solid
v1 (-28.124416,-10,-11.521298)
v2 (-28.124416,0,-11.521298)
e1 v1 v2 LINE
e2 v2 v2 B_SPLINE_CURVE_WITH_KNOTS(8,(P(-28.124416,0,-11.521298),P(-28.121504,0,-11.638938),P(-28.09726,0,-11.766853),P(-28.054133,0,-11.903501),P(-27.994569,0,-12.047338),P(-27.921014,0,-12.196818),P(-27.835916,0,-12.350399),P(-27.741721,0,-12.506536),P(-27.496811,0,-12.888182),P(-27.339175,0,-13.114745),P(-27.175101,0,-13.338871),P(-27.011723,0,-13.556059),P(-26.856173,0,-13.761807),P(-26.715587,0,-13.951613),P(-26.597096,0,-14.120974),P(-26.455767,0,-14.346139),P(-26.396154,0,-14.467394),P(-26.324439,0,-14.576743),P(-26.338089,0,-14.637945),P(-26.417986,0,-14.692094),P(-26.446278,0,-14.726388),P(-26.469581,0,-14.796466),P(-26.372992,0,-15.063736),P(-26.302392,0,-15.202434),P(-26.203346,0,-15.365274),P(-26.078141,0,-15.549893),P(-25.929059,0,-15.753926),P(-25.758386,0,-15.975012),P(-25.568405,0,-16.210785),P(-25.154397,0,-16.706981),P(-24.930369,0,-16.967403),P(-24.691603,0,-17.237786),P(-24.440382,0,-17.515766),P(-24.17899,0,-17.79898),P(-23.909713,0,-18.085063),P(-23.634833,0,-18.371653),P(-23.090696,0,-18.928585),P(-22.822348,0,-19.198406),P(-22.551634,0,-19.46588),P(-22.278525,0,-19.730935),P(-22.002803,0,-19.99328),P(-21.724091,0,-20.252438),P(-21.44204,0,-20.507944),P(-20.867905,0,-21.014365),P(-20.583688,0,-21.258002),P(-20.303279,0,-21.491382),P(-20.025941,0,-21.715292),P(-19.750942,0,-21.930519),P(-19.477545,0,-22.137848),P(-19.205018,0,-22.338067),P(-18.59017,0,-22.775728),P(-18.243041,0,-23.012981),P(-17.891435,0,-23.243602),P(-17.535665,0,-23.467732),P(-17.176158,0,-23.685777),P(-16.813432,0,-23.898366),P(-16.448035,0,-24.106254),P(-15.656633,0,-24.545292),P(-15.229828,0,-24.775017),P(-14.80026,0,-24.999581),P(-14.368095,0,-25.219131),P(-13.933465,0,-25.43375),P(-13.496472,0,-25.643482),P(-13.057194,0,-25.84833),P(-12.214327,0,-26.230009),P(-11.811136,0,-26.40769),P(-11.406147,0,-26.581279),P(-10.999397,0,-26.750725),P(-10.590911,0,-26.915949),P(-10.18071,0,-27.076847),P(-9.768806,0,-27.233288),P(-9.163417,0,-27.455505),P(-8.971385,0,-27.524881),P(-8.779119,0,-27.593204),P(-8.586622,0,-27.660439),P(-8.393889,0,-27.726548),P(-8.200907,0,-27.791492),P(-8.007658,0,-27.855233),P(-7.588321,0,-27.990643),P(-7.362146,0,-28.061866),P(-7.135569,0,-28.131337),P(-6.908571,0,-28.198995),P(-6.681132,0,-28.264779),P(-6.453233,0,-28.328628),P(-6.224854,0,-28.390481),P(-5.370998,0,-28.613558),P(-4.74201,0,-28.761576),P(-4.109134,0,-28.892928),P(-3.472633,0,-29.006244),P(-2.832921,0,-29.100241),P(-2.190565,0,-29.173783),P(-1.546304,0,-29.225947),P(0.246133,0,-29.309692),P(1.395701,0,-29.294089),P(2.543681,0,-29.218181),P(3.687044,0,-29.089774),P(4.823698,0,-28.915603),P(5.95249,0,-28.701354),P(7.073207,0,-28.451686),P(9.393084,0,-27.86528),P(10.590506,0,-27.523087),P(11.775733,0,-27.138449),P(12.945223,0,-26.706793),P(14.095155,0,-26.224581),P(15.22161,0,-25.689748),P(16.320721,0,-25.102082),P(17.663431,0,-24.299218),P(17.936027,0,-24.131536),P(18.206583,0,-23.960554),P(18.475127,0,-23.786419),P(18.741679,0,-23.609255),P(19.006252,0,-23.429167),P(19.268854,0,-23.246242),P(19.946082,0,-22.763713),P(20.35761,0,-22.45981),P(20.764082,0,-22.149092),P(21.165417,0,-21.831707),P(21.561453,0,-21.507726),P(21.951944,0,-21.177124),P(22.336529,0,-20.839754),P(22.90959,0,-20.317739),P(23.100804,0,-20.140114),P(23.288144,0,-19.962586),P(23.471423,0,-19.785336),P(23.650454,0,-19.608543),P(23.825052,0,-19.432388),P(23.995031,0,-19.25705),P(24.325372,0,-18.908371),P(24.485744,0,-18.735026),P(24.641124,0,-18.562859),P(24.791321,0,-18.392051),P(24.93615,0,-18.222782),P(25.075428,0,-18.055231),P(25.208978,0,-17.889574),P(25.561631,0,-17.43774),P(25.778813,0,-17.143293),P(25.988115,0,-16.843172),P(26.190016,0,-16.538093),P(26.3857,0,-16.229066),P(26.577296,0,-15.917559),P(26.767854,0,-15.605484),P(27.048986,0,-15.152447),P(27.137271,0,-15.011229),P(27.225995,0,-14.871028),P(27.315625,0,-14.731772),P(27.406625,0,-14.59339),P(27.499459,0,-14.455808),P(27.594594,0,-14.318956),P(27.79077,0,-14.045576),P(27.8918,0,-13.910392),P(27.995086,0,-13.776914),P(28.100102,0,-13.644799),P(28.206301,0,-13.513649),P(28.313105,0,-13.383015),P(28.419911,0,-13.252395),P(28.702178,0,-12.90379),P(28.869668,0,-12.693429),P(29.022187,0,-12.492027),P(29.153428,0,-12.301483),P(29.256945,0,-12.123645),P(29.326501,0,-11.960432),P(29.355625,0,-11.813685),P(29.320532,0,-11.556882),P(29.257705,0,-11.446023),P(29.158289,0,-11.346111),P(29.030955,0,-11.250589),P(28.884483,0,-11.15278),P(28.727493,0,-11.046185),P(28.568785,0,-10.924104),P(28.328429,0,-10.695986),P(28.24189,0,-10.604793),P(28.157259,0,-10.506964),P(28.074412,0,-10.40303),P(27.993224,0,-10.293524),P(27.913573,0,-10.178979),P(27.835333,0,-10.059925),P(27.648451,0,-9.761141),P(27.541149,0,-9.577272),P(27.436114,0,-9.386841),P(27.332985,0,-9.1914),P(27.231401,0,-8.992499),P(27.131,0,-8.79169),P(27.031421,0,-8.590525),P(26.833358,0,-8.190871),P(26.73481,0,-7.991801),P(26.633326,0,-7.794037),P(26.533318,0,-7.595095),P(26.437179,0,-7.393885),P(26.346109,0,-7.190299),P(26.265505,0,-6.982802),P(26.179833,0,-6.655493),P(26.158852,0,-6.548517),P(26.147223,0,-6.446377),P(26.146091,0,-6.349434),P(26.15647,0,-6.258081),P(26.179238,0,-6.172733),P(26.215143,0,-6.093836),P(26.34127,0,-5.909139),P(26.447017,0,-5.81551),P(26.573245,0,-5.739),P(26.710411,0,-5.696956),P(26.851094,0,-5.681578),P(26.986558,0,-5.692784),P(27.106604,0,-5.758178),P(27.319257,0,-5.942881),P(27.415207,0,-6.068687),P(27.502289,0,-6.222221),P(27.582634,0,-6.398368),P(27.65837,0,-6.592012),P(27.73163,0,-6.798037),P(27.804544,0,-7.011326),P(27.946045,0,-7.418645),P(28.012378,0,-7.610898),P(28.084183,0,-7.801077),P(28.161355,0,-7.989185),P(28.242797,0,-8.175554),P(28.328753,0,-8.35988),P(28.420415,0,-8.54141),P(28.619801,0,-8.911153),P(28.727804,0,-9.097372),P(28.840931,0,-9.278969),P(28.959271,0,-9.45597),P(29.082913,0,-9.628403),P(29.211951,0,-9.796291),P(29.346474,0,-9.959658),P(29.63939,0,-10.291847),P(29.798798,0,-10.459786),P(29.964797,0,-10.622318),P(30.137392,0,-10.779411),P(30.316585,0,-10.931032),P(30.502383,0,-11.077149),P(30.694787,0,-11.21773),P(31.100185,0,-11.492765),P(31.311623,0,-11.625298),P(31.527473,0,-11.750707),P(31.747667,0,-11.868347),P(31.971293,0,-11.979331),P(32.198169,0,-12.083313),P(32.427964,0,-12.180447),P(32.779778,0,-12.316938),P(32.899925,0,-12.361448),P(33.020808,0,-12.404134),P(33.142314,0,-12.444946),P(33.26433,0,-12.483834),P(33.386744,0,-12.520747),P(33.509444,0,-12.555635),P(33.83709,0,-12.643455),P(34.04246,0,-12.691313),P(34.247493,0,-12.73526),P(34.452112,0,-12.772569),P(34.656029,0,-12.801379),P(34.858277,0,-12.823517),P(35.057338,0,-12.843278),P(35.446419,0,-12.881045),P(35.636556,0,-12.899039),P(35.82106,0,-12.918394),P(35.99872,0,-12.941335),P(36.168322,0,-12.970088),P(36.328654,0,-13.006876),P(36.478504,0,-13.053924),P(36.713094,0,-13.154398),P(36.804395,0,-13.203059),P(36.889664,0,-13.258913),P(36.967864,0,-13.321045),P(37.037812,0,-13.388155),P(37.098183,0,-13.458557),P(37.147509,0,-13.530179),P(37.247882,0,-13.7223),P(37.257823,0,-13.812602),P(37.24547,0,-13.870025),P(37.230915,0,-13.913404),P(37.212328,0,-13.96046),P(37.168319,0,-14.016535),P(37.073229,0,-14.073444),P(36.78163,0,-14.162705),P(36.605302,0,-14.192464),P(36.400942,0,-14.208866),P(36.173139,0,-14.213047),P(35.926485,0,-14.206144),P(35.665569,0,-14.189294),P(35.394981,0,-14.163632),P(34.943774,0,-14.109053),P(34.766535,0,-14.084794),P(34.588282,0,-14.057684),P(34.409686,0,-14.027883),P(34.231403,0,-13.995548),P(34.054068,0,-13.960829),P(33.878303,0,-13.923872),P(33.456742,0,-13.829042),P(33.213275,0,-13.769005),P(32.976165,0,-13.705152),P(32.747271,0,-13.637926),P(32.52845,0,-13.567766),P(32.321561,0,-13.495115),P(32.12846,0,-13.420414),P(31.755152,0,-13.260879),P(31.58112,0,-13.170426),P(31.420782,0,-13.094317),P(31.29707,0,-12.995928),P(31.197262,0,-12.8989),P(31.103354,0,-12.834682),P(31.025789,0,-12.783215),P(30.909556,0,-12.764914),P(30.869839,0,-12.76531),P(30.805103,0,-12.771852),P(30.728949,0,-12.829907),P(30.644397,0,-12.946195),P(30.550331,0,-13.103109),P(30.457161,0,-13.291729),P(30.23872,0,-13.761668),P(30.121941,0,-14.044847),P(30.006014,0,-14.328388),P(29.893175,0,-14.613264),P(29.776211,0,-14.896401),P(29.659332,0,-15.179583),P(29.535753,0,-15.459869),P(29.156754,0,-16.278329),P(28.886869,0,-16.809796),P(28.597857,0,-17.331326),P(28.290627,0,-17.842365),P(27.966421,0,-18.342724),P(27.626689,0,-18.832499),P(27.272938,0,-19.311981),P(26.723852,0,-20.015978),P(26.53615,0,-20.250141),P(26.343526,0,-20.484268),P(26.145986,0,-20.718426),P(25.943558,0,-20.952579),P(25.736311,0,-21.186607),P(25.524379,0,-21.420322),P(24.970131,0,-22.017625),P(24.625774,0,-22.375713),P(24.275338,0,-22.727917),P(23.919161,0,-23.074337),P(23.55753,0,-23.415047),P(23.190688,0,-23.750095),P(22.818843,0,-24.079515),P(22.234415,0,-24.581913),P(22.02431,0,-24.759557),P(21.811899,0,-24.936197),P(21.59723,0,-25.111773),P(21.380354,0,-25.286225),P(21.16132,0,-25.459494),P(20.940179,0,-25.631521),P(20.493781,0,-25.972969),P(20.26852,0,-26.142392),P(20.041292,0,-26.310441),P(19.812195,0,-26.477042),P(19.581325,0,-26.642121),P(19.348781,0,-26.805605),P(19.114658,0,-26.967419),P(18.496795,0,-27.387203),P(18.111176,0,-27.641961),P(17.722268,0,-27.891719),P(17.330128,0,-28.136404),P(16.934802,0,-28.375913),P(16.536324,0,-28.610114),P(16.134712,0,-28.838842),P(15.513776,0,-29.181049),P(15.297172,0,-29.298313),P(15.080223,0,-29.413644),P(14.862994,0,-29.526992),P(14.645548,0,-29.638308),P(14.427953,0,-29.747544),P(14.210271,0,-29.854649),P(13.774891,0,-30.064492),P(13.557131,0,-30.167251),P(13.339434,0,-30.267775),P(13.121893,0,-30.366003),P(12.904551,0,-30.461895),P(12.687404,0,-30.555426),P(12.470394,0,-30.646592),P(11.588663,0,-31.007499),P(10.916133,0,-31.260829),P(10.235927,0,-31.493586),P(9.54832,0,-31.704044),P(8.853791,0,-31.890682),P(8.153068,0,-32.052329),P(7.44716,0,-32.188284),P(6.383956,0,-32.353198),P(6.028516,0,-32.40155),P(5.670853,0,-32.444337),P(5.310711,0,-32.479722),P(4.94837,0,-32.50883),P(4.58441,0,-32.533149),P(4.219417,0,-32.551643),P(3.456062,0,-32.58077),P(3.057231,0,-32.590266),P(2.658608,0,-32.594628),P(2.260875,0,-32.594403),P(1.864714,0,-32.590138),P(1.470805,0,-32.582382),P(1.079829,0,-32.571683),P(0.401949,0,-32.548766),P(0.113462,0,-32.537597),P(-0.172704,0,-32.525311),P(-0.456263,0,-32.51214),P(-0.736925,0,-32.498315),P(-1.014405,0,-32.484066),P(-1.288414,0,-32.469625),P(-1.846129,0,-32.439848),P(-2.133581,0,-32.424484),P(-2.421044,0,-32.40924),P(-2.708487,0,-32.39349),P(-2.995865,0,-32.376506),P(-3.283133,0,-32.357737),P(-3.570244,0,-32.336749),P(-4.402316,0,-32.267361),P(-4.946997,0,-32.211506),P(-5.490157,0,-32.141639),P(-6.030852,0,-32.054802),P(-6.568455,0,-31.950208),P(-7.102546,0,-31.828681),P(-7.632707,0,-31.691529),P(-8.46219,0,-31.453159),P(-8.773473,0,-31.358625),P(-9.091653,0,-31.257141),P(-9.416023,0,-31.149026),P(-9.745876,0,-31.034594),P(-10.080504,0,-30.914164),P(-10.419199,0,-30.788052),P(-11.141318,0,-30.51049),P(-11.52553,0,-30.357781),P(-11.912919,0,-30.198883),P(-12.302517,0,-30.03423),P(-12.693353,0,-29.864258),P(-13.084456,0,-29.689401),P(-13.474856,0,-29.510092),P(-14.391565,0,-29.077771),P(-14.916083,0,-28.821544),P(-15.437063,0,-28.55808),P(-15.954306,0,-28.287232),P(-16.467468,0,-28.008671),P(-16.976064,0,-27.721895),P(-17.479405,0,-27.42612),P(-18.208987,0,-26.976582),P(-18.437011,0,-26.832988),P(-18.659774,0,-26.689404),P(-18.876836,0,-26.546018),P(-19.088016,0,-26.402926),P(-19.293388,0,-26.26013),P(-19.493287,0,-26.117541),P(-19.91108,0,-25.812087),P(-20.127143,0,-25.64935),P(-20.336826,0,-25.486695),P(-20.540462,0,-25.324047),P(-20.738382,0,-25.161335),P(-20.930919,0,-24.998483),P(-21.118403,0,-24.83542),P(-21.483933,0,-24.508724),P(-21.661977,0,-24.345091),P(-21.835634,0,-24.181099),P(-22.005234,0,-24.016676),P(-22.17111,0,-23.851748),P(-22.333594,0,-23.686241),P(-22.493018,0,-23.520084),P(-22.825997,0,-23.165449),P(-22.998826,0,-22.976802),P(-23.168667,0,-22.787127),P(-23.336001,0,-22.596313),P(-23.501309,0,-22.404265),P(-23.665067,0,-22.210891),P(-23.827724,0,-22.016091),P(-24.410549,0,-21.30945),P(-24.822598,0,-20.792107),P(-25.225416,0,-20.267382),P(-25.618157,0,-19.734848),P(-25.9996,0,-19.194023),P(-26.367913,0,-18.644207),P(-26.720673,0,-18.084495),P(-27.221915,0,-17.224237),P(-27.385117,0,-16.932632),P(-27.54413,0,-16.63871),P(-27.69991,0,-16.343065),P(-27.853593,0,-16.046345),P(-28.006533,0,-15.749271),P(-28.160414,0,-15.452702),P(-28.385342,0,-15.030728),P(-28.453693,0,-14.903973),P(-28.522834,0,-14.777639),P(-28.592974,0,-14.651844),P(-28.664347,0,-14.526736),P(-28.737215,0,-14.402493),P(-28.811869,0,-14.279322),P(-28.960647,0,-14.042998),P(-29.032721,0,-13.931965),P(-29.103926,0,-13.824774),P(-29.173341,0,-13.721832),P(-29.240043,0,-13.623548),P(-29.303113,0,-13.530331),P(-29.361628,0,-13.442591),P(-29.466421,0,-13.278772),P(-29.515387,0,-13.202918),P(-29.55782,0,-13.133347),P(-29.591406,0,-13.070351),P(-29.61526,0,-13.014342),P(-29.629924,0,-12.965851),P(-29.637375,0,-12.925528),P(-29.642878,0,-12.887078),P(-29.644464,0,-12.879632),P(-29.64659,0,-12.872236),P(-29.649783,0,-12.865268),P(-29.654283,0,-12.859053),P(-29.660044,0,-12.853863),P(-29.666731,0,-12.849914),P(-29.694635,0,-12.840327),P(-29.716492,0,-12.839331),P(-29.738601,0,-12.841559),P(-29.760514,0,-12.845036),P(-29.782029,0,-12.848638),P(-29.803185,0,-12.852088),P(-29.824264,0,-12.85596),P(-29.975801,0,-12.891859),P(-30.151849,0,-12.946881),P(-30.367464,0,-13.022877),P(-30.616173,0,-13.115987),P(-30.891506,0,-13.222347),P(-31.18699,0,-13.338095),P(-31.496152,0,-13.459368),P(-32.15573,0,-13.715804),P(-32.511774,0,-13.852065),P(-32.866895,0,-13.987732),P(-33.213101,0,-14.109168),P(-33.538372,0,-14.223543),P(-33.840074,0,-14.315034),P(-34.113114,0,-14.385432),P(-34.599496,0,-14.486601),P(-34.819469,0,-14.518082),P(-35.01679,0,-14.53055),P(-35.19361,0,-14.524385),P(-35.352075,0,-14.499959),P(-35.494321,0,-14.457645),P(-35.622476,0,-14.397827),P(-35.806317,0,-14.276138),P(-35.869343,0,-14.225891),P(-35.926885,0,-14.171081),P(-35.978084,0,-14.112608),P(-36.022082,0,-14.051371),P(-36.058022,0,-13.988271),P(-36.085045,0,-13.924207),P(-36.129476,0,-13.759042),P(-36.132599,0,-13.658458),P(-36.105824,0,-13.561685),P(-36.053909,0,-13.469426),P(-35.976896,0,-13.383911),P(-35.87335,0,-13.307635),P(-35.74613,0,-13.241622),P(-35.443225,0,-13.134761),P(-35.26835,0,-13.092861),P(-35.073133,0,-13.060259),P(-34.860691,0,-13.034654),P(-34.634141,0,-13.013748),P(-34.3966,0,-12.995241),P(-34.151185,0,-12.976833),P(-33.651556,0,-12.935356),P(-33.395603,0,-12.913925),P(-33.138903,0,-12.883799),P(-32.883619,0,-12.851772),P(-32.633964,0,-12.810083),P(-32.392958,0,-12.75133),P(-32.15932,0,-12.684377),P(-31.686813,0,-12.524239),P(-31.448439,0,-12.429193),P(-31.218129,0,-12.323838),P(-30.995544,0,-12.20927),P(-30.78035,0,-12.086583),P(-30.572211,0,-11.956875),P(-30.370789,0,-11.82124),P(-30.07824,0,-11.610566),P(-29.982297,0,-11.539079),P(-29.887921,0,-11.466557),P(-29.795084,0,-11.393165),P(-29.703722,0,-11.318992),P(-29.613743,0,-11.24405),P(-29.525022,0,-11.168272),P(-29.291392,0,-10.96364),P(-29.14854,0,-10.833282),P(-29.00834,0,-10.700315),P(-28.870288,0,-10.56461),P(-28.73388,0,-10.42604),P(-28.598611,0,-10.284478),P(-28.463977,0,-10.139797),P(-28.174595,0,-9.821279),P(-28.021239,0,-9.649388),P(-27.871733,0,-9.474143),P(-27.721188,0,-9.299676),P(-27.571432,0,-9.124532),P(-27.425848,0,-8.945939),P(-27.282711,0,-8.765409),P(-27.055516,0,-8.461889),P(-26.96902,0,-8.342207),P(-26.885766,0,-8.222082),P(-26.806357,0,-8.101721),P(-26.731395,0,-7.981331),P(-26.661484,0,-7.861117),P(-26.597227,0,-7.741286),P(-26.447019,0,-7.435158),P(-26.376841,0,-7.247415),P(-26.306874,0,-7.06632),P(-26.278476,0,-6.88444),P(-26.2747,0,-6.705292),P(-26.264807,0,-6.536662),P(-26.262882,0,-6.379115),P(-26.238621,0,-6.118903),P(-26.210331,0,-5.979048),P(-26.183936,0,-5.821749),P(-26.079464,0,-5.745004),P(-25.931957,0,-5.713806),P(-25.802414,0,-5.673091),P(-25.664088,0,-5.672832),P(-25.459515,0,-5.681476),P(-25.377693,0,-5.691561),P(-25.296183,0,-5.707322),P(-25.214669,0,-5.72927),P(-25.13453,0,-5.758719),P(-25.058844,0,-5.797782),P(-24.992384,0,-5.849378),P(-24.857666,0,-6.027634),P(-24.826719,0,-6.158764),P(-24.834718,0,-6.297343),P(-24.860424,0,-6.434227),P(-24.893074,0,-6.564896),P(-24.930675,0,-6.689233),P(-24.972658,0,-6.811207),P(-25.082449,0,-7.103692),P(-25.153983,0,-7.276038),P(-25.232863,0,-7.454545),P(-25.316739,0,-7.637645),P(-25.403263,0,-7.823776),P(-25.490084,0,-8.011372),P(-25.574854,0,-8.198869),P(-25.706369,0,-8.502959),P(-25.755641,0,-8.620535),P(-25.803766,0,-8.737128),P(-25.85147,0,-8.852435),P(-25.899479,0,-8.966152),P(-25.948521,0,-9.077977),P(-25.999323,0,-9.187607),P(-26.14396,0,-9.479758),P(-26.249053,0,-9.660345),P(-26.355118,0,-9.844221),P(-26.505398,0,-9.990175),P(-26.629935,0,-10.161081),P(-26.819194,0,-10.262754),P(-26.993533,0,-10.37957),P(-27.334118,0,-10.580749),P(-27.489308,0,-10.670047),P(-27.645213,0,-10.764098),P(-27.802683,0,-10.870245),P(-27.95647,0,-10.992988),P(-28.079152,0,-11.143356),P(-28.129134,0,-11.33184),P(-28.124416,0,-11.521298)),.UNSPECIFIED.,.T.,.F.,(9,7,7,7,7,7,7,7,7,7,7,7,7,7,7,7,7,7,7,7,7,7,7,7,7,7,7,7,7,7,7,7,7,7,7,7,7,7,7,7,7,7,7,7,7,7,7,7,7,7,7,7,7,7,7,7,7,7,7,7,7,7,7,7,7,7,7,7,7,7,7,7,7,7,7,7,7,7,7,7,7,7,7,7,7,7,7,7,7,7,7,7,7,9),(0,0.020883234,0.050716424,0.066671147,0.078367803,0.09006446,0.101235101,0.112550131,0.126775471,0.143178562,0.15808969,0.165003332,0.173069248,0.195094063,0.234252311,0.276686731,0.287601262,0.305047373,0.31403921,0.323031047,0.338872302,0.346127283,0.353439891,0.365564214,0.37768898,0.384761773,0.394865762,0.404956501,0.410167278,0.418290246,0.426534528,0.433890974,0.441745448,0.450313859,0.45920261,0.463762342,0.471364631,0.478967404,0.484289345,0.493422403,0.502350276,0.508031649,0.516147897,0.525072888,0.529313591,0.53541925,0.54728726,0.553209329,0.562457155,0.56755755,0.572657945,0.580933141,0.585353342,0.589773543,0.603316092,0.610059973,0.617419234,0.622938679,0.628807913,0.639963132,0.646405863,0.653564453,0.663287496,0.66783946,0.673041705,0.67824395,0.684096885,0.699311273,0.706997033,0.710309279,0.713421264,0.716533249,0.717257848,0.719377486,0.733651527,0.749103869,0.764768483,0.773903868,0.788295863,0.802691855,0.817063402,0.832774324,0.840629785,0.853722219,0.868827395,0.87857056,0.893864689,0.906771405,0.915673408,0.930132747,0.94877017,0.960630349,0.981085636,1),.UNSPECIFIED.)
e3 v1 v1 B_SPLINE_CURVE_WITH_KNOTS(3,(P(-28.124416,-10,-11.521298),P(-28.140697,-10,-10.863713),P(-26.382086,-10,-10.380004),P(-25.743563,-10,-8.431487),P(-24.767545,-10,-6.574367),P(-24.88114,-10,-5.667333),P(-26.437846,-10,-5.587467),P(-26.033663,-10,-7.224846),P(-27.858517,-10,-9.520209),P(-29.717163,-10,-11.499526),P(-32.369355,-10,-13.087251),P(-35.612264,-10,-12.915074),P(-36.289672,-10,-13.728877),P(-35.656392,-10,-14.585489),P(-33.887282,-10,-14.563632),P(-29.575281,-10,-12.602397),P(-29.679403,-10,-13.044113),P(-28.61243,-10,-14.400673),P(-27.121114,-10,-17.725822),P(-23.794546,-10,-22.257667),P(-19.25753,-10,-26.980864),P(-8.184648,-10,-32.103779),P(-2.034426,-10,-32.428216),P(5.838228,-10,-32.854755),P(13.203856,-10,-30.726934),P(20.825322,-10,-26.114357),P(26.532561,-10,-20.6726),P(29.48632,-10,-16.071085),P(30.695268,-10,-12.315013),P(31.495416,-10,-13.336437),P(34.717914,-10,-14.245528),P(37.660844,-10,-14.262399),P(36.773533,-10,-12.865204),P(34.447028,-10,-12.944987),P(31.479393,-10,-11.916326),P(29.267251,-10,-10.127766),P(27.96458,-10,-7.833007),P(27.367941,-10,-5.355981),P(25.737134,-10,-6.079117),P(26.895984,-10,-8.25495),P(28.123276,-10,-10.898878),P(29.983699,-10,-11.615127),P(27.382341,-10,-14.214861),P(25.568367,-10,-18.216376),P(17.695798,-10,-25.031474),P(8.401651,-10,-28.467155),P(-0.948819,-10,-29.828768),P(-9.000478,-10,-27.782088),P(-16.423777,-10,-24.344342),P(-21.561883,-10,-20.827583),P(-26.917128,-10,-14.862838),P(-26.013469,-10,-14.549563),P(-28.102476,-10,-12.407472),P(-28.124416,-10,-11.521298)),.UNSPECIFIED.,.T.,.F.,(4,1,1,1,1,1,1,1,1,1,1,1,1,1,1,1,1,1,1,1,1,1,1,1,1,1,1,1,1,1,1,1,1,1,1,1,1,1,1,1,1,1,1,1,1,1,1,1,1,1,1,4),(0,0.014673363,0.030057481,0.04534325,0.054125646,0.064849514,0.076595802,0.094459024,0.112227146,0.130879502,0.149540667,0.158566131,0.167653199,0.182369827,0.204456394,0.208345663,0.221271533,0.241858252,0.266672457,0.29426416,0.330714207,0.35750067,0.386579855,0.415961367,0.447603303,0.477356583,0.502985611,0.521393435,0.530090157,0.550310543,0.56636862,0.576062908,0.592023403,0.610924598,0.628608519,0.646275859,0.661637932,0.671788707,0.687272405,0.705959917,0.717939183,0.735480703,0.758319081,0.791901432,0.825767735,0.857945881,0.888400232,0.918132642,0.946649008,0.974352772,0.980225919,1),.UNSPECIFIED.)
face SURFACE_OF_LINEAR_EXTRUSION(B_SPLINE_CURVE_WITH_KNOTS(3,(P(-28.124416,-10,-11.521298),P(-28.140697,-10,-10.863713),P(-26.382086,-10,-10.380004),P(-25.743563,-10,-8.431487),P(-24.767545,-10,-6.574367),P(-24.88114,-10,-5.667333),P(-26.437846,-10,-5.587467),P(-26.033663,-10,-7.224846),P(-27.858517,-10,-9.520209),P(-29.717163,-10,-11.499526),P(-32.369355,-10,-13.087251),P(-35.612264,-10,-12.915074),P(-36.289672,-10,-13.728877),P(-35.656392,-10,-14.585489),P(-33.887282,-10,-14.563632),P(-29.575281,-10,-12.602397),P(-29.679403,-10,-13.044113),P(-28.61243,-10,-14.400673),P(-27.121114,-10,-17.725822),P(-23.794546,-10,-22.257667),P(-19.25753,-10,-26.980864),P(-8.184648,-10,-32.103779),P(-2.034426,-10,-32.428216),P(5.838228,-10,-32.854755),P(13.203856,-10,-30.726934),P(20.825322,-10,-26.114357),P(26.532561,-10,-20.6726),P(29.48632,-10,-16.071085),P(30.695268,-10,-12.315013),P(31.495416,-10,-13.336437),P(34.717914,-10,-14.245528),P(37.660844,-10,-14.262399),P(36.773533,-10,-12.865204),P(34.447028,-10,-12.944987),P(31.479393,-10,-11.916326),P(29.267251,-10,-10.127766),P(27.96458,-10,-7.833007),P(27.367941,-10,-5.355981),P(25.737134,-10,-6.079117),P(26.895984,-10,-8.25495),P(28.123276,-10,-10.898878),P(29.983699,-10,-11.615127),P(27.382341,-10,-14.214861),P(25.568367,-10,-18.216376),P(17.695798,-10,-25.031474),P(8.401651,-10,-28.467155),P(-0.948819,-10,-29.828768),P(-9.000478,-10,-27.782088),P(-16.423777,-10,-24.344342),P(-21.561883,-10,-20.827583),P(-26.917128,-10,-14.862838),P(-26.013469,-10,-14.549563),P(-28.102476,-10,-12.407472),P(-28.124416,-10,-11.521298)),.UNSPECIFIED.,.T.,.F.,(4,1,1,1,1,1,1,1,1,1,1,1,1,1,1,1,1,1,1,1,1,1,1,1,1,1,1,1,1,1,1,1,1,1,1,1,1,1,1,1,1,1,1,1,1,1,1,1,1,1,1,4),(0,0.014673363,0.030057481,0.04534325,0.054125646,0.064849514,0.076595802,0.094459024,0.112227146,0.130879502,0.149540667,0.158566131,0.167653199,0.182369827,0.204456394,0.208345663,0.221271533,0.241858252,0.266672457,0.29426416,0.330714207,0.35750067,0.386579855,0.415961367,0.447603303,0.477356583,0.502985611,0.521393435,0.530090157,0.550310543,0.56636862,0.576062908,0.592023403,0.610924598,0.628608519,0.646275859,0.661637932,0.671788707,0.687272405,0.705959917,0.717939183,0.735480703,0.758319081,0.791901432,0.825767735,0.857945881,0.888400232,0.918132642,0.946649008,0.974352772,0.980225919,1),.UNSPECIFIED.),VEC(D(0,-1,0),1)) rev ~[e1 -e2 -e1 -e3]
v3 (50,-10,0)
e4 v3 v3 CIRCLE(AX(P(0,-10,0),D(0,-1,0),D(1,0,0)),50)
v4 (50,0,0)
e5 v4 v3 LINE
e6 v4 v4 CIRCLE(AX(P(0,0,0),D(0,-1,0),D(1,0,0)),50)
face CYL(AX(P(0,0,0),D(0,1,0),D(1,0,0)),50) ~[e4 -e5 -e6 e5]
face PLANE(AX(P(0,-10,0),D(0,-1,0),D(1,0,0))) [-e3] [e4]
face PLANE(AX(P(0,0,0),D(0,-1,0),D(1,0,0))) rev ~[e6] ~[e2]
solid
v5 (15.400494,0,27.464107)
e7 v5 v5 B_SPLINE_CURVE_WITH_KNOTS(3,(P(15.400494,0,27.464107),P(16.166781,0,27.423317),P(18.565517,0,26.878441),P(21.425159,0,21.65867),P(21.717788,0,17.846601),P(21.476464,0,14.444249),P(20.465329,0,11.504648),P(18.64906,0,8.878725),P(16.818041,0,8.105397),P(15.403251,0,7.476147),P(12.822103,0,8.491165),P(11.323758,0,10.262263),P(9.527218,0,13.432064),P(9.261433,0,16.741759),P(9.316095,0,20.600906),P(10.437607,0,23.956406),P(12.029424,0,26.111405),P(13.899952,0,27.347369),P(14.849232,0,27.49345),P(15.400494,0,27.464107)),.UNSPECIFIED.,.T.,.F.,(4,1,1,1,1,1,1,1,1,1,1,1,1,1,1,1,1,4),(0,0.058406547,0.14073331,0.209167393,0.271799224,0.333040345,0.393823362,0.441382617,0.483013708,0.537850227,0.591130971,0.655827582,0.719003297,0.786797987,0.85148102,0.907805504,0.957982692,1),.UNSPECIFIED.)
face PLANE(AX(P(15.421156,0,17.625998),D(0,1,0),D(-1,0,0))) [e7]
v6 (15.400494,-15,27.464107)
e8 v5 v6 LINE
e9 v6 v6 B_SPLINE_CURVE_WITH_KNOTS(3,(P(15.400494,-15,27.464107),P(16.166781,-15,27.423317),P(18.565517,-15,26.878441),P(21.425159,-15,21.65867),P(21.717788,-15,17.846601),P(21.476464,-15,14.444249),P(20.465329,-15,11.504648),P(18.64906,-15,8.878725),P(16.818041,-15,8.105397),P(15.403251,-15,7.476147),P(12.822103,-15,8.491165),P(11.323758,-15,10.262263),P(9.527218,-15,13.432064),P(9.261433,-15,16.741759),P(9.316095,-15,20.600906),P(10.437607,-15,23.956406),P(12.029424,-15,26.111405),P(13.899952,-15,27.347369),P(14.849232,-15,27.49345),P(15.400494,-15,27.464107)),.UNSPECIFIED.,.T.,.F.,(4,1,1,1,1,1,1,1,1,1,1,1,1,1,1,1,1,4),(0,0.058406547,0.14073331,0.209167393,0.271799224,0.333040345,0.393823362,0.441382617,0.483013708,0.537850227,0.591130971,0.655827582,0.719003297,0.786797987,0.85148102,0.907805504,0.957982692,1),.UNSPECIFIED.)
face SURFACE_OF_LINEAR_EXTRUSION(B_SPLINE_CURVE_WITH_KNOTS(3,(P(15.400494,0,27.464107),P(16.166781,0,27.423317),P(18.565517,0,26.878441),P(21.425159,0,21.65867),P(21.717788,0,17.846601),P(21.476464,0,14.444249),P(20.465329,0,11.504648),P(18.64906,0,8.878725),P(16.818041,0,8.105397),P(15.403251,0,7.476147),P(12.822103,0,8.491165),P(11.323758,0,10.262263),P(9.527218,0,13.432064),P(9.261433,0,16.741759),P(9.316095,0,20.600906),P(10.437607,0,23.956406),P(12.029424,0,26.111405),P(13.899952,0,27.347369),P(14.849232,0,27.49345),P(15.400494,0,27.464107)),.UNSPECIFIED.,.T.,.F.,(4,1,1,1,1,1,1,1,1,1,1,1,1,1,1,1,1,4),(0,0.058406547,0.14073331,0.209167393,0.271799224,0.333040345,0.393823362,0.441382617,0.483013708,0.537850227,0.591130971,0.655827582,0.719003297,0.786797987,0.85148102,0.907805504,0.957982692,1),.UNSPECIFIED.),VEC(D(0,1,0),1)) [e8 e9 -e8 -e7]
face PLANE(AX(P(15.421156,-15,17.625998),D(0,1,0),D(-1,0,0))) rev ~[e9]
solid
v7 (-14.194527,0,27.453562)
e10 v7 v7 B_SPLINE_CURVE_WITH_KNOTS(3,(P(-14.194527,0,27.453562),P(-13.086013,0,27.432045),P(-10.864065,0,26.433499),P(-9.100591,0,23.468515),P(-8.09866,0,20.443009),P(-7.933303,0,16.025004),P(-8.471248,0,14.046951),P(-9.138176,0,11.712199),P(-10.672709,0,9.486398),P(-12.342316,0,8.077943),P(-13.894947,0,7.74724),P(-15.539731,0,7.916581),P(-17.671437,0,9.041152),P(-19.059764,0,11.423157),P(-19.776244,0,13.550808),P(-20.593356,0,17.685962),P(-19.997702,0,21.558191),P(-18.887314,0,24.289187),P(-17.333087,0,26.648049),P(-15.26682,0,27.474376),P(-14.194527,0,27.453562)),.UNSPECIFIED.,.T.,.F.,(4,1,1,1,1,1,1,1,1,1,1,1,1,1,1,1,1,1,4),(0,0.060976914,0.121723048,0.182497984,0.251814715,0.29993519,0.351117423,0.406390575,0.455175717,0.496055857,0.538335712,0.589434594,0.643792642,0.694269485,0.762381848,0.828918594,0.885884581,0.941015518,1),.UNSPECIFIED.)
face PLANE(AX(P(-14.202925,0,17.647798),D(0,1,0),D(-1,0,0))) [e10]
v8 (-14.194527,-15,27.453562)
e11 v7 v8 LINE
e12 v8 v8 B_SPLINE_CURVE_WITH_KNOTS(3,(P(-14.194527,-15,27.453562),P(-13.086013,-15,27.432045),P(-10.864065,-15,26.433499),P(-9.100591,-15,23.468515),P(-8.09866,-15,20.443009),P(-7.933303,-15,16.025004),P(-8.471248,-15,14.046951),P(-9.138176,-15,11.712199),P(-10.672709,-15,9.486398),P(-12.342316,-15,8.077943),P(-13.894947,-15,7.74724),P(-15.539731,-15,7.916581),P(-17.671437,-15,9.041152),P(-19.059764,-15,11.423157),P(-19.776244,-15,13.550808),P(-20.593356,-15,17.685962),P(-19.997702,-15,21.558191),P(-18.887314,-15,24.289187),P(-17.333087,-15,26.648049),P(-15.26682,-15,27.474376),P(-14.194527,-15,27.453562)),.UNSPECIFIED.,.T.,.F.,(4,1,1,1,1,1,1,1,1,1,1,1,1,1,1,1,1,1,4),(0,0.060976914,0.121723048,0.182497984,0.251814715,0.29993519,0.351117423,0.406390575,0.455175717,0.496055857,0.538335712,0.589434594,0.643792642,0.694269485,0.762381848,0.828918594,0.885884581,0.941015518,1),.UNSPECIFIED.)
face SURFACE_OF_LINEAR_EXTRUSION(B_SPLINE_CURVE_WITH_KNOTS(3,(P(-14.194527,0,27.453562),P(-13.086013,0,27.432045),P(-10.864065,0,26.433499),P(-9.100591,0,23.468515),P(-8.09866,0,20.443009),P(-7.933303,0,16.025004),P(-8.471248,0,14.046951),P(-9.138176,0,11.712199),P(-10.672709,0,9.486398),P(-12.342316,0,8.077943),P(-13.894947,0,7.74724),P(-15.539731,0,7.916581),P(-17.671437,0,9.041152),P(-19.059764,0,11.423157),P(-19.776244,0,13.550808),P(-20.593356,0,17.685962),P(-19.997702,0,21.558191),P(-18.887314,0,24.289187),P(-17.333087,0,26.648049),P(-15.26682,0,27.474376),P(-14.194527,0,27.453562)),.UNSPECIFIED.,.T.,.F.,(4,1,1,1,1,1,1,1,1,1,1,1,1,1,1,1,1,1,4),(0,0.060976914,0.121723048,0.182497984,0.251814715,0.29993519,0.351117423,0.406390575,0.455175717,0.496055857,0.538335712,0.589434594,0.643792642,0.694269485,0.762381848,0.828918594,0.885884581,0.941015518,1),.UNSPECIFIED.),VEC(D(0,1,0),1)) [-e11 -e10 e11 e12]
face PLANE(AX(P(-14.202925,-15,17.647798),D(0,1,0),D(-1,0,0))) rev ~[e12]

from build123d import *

# Parameters (mm, degrees)
F2_DEPTH = 15
F0_R     = 50
F3_DEPTH = 10
F5_DEPTH = 90.9


with BuildPart() as f2:
    # F1 (on face) → F2 (new body)
    with BuildSketch(Plane.XZ):
        with BuildLine():
            add(Edge.make_bspline(
                [(15.4004944488, 27.464106679), (16.1667812576, 27.4233171166), (18.565516757, 26.8784413725), (21.4251593779, 21.6586695218), (21.7177882397, 17.8466007397), (21.4764639543, 14.444248799), (20.4653285121, 11.504647987), (18.6490599189, 8.8787249215), (16.8180411203, 8.1053967554), (15.4032514926, 7.4761472919), (12.8221026902, 8.4911648257), (11.3237575912, 10.2622634794), (9.527217821, 13.4320639989), (9.2614328122, 16.7417585515), (9.3160946279, 20.6009055532), (10.4376067263, 23.9564060398), (12.029424222, 26.1114053822), (13.8999521459, 27.3473690547), (14.8492324648, 27.4934504375), (15.4004944488, 27.464106679)],
                knots=[0, 0, 0, 0, 0.058406547, 0.14073331, 0.209167393, 0.2717992239, 0.333040345, 0.393823362, 0.4413826173, 0.4830137084, 0.5378502269, 0.5911309709, 0.6558275824, 0.7190032974, 0.7867979873, 0.8514810204, 0.907805504, 0.9579826919, 1, 1, 1, 1], degree=3))
        make_face()
    extrude(amount=F2_DEPTH)


with BuildPart() as f2b:
    # F1 (on face) → F2, piece 2 (new body)
    with BuildSketch(Plane.XZ):
        with BuildLine():
            add(Edge.make_bspline(
                [(-14.1945267096, 27.4535622448), (-13.0860125146, 27.4320450154), (-10.8640651963, 26.4334988554), (-9.1005909658, 23.4685154897), (-8.0986596052, 20.4430086278), (-7.9333028007, 16.0250035891), (-8.4712484965, 14.0469510155), (-9.1381759994, 11.7121988324), (-10.6727086806, 9.4863979076), (-12.3423160664, 8.0779430508), (-13.8949466829, 7.7472399265), (-15.5397305472, 7.9165807106), (-17.6714369084, 9.0411520489), (-19.0597641389, 11.4231574821), (-19.7762440652, 13.5508079229), (-20.5933559747, 17.6859617835), (-19.997702432, 21.5581906299), (-18.8873141569, 24.2891870342), (-17.3330865836, 26.6480485037), (-15.2668200061, 27.4743763948), (-14.1945267096, 27.4535622448)],
                knots=[0, 0, 0, 0, 0.0609769136, 0.1217230479, 0.1824979843, 0.251814715, 0.2999351904, 0.3511174229, 0.4063905748, 0.455175717, 0.4960558567, 0.5383357119, 0.5894345938, 0.6437926423, 0.6942694854, 0.7623818483, 0.8289185941, 0.8858845807, 0.9410155179, 1, 1, 1, 1], degree=3))
        make_face()
    extrude(amount=F2_DEPTH)


with BuildPart() as f3:
    # F0 (on Front) → F3 (new body)
    with BuildSketch(Plane.XZ):
        Circle(F0_R)
    extrude(amount=F3_DEPTH)

    # F4 (on face) → F5 (cut, symmetric)
    with BuildSketch(Plane.XZ.offset(10)):
        with BuildLine():
            add(Edge.make_bspline(
                [(-28.124416247, -11.5212984383), (-28.1406970724, -10.863712929), (-26.3820859919, -10.3800037896), (-25.7435630451, -8.4314871694), (-24.7675449506, -6.5743671032), (-24.8811400084, -5.6673334792), (-26.4378463823, -5.5874668705), (-26.0336626735, -7.2248456727), (-27.8585168758, -9.5202086755), (-29.7171634042, -11.4995257448), (-32.3693550728, -13.0872508277), (-35.6122635386, -12.9150740938), (-36.2896723625, -13.7288769078), (-35.6563915406, -14.5854892355), (-33.8872816114, -14.5636322964), (-29.5752806003, -12.6023966612), (-29.6794032398, -13.0441126785), (-28.6124303918, -14.4006727246), (-27.1211143945, -17.7258220626), (-23.794545629, -22.2576674519), (-19.2575297843, -26.9808635069), (-8.1846476883, -32.1037793973), (-2.0344261224, -32.4282158978), (5.8382280092, -32.8547545169), (13.2038558979, -30.7269338479), (20.8253224964, -26.1143566676), (26.5325609208, -20.6725998772), (29.4863197433, -16.0710845567), (30.6952675839, -12.3150129101), (31.4954157061, -13.3364370974), (34.7179135116, -14.2455275845), (37.6608443004, -14.2623987298), (36.7735327581, -12.8652035144), (34.4470280363, -12.9449874034), (31.4793927973, -11.9163260601), (29.2672510251, -10.1277663052), (27.9645796758, -7.8330071547), (27.3679406901, -5.3559805604), (25.7371336192, -6.0791174567), (26.8959835525, -8.2549502609), (28.1232755709, -10.8988778532), (29.9836985946, -11.615127417), (27.3823411968, -14.2148612214), (25.5683673501, -18.2163762392), (17.6957981679, -25.0314735458), (8.4016510085, -28.4671547265), (-0.9488189114, -29.8287679375), (-9.0004783605, -27.7820878424), (-16.4237765345, -24.3443423857), (-21.5618830158, -20.8275825067), (-26.9171276556, -14.8628383885), (-26.0134689941, -14.5495630659), (-28.1024759206, -12.4074722261), (-28.124416247, -11.5212984383)],
                knots=[0, 0, 0, 0, 0.0146733627, 0.0300574806, 0.0453432503, 0.0541256463, 0.0648495143, 0.0765958019, 0.094459024, 0.1122271462, 0.1308795024, 0.1495406668, 0.1585661313, 0.1676531989, 0.1823698269, 0.2044563936, 0.2083456627, 0.2212715334, 0.2418582524, 0.2666724567, 0.29426416, 0.3307142068, 0.3575006696, 0.3865798549, 0.4159613669, 0.4476033025, 0.4773565825, 0.5029856112, 0.5213934351, 0.5300901565, 0.5503105433, 0.5663686199, 0.5760629085, 0.5920234033, 0.6109245977, 0.6286085187, 0.6462758595, 0.6616379315, 0.6717887074, 0.6872724049, 0.7059599174, 0.7179391829, 0.7354807029, 0.7583190809, 0.791901432, 0.8257677349, 0.8579458806, 0.8884002318, 0.9181326419, 0.9466490082, 0.9743527716, 0.9802259186, 1, 1, 1, 1], degree=3))
        make_face()
    extrude(amount=F5_DEPTH, both=True, mode=Mode.SUBTRACT)


solid = Compound([f2.part, f2b.part, f3.part])
